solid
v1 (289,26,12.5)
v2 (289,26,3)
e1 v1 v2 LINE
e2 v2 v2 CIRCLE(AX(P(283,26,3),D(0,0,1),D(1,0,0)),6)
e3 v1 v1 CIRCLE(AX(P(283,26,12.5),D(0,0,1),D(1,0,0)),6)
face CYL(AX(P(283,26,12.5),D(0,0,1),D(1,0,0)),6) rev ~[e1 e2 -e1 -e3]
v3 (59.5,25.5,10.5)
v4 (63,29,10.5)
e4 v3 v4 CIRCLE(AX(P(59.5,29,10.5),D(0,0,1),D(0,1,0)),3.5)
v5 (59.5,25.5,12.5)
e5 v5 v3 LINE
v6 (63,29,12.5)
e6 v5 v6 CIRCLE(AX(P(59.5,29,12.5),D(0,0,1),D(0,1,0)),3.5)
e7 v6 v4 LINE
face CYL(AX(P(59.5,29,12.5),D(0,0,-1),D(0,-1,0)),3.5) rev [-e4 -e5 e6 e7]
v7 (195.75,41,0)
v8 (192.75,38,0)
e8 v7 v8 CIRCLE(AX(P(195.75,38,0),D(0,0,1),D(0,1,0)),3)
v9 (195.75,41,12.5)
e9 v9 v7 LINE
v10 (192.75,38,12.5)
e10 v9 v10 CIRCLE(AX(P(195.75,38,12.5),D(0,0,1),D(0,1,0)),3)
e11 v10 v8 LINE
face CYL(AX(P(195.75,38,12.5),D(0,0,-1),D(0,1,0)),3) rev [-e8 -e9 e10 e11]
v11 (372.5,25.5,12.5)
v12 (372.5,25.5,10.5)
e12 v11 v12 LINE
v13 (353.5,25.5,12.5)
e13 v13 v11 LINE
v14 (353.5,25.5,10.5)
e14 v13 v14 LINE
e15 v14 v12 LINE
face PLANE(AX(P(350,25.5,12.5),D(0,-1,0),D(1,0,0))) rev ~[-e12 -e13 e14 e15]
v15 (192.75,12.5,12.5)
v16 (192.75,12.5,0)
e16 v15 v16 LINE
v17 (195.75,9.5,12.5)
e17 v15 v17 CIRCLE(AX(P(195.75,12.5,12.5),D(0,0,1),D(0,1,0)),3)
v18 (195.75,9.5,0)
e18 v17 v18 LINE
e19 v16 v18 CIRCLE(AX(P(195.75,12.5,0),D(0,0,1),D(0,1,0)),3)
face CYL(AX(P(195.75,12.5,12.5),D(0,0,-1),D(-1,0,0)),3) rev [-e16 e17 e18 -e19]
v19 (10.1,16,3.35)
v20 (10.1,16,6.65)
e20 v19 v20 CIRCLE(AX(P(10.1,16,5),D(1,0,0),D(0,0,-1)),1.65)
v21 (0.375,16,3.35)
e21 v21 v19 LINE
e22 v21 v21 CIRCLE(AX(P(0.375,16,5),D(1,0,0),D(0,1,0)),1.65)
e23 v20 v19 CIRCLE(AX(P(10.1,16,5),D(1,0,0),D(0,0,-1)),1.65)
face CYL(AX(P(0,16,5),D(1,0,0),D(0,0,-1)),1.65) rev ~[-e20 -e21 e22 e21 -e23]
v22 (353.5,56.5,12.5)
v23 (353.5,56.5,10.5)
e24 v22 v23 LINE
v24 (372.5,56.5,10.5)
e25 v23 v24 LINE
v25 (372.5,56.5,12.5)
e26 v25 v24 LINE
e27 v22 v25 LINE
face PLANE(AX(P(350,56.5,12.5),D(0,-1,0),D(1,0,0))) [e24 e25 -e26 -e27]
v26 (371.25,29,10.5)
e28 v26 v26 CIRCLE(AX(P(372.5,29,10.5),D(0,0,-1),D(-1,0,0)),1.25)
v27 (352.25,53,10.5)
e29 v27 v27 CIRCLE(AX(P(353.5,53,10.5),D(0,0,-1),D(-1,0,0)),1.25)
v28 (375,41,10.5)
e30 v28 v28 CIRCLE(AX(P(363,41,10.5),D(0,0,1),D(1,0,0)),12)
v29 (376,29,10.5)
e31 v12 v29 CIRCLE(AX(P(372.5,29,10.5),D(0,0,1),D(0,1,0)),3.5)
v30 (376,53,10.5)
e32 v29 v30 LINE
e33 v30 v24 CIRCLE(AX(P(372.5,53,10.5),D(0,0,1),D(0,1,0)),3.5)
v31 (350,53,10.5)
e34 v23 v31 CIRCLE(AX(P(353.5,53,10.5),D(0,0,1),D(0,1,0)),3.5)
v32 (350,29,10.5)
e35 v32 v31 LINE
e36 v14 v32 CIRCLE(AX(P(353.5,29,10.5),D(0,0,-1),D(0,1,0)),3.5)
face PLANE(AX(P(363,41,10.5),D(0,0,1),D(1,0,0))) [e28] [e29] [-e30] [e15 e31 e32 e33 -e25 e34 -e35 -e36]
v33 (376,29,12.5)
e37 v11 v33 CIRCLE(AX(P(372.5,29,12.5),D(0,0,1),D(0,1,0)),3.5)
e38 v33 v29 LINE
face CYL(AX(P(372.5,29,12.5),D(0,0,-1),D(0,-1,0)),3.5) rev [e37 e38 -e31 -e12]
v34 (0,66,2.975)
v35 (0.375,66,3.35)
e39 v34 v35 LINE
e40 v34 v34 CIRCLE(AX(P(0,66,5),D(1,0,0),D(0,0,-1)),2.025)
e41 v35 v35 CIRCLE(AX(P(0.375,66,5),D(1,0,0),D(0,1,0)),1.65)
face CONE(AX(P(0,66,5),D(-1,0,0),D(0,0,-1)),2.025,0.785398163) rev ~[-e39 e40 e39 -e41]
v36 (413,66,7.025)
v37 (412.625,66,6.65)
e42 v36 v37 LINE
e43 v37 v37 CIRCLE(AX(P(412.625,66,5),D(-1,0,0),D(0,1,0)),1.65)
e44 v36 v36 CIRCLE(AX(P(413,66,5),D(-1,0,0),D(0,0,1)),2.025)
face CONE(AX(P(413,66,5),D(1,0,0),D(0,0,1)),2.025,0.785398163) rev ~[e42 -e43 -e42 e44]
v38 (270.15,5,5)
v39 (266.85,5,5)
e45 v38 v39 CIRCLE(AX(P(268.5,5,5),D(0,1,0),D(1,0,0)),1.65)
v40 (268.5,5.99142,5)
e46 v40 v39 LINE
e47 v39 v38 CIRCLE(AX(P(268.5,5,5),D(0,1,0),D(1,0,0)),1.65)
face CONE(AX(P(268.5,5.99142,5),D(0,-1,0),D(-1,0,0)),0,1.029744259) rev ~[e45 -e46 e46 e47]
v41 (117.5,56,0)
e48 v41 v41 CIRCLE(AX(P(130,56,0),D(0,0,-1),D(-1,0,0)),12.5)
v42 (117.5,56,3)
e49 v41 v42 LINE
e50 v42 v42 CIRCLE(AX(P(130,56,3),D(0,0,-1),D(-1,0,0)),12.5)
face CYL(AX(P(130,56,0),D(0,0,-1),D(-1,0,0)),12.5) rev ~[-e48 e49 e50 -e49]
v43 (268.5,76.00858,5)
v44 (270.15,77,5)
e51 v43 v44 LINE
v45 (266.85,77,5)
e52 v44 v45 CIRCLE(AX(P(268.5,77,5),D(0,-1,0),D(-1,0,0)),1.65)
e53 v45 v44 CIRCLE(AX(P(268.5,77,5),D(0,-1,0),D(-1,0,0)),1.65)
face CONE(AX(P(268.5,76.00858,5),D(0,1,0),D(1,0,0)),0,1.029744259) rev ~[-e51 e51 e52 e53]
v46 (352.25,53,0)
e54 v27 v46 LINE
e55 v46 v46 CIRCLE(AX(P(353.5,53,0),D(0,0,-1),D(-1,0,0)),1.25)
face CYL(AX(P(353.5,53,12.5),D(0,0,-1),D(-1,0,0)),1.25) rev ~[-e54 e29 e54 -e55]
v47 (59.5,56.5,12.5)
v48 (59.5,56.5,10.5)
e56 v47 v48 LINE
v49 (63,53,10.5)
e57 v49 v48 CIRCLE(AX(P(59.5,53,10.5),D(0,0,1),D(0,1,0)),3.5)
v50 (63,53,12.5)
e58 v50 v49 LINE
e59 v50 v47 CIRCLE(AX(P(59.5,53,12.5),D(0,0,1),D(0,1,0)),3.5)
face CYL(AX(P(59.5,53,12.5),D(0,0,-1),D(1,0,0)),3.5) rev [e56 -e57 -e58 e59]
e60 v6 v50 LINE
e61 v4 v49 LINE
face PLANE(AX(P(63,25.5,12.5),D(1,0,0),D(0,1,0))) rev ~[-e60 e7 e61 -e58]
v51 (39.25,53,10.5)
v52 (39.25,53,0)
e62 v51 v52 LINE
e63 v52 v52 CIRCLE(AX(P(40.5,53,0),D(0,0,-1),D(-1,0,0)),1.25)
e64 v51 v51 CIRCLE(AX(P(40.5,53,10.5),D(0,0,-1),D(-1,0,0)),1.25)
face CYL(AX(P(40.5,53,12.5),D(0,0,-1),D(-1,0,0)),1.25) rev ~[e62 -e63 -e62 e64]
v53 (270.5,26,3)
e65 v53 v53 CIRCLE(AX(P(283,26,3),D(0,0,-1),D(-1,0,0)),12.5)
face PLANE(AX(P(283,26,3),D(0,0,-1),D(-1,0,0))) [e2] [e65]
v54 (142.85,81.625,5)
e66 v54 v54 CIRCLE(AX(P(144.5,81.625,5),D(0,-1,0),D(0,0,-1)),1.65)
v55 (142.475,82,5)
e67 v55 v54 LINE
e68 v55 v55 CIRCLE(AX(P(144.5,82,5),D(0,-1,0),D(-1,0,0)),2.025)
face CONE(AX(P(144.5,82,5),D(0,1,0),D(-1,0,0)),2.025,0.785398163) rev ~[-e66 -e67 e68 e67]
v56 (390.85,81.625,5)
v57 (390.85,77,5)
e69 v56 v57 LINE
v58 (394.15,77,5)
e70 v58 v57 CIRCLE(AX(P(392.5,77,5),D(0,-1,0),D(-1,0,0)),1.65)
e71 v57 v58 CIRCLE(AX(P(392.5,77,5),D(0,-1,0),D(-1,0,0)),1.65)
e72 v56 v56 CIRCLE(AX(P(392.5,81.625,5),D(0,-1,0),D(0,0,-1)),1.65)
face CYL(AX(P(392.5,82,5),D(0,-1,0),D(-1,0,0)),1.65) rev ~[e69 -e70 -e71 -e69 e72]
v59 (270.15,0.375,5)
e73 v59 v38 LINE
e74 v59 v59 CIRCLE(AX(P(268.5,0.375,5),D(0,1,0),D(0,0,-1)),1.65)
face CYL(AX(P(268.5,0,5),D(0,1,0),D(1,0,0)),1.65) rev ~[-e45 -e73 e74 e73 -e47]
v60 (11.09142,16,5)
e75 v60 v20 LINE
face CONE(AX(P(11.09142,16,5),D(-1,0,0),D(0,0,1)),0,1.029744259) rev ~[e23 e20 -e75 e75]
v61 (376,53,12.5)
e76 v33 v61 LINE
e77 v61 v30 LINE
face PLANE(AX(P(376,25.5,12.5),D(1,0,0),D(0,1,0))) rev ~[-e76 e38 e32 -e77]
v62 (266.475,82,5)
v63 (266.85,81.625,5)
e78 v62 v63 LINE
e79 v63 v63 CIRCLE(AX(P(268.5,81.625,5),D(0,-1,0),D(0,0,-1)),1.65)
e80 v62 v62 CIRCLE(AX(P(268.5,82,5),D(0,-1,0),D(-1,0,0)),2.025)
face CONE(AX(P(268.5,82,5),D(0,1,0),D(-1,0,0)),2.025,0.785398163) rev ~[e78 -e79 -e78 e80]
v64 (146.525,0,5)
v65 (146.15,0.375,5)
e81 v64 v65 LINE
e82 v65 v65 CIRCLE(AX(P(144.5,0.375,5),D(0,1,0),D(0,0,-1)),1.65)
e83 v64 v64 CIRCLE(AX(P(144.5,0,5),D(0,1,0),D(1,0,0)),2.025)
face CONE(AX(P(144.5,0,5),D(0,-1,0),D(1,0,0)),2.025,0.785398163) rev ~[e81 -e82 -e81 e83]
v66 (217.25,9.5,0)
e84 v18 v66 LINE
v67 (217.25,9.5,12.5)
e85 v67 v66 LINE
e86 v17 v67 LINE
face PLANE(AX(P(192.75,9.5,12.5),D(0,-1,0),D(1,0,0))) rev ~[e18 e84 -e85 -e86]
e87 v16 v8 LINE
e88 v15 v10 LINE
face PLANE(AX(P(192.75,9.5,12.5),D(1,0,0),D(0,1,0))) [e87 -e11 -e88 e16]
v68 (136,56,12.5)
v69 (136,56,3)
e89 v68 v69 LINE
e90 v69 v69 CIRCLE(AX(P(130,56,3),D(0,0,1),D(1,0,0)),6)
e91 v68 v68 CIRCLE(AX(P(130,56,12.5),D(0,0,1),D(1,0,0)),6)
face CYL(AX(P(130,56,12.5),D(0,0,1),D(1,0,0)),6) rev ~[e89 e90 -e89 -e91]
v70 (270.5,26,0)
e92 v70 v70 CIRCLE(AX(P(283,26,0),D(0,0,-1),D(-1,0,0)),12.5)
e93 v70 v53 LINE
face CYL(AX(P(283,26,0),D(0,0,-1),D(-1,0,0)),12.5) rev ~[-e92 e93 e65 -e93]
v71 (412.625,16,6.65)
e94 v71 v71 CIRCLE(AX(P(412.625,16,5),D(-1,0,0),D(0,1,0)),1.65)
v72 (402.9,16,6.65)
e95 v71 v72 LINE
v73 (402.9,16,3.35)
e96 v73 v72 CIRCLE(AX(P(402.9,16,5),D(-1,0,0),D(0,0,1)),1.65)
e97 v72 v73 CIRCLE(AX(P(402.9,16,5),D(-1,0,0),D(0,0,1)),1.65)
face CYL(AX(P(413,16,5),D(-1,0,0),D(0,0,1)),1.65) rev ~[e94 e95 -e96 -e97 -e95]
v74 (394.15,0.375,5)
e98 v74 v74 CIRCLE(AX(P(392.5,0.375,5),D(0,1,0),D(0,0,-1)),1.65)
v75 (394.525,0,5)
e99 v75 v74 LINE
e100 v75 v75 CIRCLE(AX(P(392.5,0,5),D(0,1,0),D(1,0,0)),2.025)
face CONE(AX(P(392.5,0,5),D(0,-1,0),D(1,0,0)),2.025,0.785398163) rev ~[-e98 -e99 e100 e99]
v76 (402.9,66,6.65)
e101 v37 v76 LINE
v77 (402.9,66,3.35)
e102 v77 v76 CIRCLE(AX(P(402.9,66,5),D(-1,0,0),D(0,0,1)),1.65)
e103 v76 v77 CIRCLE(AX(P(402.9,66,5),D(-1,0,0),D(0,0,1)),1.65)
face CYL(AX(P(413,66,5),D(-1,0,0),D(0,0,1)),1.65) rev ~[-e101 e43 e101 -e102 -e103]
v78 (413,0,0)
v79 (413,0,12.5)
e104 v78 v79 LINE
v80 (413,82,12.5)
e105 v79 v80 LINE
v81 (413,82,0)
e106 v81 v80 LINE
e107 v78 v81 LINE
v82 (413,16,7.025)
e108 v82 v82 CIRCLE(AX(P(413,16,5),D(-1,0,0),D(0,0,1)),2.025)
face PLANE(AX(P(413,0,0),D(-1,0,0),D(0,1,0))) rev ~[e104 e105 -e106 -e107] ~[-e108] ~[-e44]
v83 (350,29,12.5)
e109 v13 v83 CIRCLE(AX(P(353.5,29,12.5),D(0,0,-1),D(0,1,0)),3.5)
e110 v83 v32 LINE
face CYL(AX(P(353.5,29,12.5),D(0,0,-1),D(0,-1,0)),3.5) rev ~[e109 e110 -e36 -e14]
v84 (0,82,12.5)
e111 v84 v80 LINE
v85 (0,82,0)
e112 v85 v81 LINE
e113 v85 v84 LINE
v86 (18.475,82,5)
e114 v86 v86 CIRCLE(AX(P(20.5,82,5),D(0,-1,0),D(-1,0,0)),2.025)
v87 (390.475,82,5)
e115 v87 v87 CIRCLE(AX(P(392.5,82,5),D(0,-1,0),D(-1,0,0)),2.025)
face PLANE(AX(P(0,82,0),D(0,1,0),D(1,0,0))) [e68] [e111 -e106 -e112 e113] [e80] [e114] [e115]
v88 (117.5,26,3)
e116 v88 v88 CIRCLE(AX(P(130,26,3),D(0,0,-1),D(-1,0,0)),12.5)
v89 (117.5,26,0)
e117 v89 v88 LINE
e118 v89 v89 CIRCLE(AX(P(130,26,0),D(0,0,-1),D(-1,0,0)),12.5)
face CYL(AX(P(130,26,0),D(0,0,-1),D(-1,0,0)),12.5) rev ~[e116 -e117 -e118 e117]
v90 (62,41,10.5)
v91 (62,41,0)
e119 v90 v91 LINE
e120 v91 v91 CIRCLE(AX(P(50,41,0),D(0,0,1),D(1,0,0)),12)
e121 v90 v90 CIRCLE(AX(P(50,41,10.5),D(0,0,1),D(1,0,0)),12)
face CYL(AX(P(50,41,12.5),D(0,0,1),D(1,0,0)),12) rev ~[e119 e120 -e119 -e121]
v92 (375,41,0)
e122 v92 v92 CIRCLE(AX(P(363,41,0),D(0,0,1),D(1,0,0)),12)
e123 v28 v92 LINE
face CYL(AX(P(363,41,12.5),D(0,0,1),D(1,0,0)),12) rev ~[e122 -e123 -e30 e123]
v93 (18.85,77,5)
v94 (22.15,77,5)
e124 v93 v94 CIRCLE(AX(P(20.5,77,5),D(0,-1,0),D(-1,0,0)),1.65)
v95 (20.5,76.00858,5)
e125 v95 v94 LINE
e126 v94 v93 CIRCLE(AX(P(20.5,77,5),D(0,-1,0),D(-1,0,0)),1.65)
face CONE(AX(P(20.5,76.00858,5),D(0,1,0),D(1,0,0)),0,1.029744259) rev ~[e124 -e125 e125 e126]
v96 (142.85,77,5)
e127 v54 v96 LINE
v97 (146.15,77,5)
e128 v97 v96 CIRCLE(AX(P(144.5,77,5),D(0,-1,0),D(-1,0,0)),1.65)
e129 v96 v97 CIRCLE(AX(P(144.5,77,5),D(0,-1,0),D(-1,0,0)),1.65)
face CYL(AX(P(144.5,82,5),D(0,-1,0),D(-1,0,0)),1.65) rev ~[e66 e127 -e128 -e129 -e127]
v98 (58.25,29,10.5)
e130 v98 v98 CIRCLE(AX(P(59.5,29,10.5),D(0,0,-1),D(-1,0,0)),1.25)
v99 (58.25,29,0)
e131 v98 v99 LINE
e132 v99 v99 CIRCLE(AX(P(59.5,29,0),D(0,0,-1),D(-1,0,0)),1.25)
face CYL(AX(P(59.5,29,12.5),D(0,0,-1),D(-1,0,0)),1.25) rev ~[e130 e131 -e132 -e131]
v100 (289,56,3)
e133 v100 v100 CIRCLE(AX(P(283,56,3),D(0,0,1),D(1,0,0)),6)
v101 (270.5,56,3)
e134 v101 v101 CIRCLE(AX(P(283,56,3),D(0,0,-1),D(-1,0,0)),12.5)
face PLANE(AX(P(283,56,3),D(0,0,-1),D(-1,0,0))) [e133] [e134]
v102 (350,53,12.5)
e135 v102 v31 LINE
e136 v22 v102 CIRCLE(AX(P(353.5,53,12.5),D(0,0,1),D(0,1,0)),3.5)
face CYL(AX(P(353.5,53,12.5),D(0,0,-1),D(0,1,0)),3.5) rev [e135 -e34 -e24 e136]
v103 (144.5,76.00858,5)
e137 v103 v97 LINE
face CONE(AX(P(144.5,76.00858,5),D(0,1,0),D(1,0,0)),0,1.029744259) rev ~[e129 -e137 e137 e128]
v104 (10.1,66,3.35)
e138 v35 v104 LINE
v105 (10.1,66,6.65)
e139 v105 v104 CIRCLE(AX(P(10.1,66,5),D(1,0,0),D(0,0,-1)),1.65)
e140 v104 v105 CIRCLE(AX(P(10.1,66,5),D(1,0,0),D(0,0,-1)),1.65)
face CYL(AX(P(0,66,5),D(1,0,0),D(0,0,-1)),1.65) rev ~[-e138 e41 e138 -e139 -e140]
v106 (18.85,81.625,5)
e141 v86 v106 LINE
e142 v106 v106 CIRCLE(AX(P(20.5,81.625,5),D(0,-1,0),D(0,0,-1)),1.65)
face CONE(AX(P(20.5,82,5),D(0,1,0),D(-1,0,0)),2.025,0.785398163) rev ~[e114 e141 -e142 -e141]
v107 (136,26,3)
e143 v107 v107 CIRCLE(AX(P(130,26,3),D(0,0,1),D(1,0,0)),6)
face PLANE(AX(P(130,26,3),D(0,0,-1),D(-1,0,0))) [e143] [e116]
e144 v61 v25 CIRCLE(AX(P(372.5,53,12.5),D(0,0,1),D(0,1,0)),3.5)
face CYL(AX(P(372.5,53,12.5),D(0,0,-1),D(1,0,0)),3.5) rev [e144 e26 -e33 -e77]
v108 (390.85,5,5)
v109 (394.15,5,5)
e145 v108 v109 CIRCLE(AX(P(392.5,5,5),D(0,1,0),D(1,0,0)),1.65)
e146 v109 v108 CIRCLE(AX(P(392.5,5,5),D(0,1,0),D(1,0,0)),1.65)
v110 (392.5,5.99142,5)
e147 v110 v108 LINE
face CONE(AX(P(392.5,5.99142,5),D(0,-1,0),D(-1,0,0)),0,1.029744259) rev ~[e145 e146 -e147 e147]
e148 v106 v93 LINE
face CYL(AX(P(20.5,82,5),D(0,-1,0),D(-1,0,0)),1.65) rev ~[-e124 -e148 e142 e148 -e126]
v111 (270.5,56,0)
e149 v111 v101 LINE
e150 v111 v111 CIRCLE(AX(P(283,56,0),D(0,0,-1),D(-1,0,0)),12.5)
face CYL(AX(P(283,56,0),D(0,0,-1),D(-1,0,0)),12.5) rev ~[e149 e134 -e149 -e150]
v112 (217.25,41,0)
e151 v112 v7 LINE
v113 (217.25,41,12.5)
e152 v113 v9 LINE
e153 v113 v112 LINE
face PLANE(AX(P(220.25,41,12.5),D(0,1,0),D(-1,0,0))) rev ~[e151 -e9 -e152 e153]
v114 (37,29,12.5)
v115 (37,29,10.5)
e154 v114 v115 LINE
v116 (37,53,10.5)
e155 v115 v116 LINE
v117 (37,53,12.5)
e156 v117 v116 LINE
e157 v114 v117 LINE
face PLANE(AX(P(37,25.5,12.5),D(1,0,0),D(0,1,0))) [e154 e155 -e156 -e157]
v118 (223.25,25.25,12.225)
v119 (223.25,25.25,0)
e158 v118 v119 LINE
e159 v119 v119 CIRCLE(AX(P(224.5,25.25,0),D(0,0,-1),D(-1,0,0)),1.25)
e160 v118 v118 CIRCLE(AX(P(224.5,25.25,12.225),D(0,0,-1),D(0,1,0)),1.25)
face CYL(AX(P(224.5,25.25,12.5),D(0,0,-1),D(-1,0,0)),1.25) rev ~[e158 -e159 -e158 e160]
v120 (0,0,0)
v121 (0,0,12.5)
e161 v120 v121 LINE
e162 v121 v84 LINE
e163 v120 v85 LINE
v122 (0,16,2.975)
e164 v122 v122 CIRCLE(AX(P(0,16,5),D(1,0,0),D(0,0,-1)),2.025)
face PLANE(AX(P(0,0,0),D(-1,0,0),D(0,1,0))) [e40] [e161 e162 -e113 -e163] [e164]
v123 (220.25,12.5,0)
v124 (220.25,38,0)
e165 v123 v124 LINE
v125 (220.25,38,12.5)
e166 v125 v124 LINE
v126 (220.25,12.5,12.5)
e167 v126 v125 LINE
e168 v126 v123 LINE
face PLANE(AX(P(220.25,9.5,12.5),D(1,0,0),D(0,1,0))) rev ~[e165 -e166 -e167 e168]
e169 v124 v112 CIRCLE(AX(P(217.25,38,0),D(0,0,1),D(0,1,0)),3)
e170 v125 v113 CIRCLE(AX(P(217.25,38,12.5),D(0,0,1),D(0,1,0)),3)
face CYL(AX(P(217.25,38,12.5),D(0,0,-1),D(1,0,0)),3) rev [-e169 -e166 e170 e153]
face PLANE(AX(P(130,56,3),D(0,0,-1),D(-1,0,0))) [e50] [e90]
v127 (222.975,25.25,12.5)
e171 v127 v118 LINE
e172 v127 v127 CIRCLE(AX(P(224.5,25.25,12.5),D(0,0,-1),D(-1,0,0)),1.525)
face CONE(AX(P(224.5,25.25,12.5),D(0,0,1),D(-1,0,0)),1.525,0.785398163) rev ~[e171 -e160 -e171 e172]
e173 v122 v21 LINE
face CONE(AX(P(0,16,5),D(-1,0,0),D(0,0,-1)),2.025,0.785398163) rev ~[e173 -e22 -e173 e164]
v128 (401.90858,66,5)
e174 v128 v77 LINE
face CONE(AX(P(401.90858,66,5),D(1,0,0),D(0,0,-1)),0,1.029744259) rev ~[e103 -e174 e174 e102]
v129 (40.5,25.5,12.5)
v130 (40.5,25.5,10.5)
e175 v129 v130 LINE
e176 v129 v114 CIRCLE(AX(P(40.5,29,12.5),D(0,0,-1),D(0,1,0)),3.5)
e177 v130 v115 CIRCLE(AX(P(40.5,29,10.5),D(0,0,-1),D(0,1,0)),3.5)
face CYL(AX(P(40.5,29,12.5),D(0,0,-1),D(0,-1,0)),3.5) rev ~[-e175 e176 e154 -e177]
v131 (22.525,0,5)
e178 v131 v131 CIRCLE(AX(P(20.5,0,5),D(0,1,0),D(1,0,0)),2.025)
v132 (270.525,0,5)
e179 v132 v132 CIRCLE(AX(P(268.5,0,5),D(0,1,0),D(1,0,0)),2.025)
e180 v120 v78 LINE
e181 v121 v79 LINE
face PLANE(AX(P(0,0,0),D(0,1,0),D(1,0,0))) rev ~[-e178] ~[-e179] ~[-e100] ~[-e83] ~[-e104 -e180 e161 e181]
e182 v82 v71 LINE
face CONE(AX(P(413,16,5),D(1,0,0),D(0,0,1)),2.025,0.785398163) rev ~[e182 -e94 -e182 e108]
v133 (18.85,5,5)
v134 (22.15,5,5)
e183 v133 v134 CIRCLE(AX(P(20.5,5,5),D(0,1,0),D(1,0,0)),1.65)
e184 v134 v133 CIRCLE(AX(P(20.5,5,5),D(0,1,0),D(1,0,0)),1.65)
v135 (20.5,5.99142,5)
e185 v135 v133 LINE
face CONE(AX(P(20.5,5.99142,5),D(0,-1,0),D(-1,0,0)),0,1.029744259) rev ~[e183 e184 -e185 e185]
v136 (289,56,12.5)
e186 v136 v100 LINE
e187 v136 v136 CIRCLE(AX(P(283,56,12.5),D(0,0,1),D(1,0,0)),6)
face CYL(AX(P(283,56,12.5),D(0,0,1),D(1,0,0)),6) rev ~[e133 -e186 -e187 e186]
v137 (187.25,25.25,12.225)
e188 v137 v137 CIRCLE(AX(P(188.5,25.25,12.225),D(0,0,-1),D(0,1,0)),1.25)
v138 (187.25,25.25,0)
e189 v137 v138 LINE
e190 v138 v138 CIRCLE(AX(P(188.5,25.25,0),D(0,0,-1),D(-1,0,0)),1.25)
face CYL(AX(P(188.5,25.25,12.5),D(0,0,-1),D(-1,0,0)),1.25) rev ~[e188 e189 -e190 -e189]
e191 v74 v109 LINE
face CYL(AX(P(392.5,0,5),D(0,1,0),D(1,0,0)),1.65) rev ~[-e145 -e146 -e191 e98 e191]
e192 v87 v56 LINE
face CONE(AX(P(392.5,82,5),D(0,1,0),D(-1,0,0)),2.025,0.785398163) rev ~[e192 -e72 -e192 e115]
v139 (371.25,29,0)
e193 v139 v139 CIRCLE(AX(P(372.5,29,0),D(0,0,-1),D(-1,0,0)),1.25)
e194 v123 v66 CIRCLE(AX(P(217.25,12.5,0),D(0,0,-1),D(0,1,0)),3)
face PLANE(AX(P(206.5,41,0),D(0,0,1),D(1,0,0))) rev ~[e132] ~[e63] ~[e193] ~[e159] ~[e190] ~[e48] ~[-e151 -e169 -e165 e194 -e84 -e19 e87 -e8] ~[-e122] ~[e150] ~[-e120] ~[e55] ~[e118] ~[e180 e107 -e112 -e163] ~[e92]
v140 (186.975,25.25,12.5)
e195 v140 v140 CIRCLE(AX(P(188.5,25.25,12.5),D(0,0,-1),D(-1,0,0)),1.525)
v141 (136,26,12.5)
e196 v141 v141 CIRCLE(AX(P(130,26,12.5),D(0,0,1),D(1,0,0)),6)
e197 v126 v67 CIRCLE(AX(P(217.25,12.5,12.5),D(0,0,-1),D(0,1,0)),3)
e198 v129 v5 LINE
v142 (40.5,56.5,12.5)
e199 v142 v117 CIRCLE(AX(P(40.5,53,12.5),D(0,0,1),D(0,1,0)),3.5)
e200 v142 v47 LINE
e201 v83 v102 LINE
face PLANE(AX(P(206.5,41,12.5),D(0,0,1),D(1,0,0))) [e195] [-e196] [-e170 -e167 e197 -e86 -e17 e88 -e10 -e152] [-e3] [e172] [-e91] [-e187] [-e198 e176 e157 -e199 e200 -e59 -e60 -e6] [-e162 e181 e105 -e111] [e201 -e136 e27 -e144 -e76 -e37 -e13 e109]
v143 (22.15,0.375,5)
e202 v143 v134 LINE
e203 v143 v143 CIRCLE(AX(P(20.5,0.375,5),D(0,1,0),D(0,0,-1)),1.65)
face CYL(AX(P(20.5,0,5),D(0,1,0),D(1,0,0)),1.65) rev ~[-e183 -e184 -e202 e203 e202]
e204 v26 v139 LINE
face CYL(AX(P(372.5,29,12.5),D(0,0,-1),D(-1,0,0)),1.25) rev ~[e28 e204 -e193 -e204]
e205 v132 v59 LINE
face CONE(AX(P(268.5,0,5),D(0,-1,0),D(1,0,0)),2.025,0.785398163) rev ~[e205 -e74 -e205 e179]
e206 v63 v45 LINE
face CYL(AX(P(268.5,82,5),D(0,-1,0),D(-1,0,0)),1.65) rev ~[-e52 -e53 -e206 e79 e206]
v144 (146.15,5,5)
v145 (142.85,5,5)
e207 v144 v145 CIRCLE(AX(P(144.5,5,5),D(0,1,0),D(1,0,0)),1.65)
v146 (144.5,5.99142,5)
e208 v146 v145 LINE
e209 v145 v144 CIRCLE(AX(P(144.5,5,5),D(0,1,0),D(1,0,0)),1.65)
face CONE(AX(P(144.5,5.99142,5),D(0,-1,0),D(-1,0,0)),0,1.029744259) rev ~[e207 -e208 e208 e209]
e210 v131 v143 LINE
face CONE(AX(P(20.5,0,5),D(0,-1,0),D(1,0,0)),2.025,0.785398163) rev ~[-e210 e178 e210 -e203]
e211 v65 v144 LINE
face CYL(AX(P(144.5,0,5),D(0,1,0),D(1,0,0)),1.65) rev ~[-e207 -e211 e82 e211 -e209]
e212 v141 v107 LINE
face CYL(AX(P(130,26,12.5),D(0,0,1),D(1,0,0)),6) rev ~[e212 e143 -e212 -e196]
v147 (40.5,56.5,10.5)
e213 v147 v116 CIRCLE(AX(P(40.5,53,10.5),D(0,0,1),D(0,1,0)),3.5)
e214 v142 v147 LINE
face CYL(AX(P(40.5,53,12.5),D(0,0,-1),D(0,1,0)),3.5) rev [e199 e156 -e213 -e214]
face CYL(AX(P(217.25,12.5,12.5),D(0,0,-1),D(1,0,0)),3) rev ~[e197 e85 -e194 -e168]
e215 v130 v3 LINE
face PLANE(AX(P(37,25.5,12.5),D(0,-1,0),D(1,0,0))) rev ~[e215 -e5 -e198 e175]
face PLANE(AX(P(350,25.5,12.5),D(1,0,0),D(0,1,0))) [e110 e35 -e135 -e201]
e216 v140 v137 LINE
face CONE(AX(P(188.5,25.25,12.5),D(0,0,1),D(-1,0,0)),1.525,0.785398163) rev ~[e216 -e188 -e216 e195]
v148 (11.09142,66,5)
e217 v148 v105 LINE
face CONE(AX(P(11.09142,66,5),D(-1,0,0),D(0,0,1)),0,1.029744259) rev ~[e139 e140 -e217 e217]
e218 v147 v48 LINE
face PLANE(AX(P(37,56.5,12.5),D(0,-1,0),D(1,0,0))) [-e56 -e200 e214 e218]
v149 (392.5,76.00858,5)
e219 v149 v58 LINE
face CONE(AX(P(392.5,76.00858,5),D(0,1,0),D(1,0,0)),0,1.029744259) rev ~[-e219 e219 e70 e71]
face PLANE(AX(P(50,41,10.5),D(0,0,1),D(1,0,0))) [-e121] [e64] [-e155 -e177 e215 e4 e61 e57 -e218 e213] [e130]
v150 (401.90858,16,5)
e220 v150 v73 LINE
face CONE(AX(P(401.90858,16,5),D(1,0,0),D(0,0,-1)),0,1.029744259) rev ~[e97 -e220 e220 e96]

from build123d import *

# Parameters (mm, degrees)
SKETCH_1_W                   = 413
SKETCH_1_H                   = 82
EXTRUDE_1_DEPTH              = 12.5
SKETCH_2_R                   = 12
SKETCH_2_R_2                 = 6
SKETCH_2_W                   = 13.75
SKETCH_2_H                   = 31.5
CUT_EXTRUDE_1_DEPTH          = 13.5
HOLE_WIZARD_M3_1_D           = 2.5
HOLE_WIZARD_M3_1_CSINK_D     = 3.05
HOLE_WIZARD_M3_1_CSINK_ANGLE = 90
FILLET_1_R                   = 3
HOLE_WIZARD_M4_1_D           = 3.3
HOLE_WIZARD_M4_1_DEPTH       = 5
HOLE_WIZARD_M4_1_CSINK_D     = 4.05
HOLE_WIZARD_M4_1_CSINK_ANGLE = 90
HOLE_WIZARD_M4_1_TIP         = 0.991420021
HOLE_WIZARD_M4_2_D           = 3.3
HOLE_WIZARD_M4_2_DEPTH       = 5
HOLE_WIZARD_M4_2_CSINK_D     = 4.05
HOLE_WIZARD_M4_2_CSINK_ANGLE = 90
HOLE_WIZARD_M4_2_TIP         = 0.991420021
HOLE_WIZARD_M4_3_D           = 3.3
HOLE_WIZARD_M4_3_DEPTH       = 10.1
HOLE_WIZARD_M4_3_CSINK_D     = 4.05
HOLE_WIZARD_M4_3_CSINK_ANGLE = 90
HOLE_WIZARD_M4_3_TIP         = 0.991420021
HOLE_WIZARD_M4_4_D           = 3.3
HOLE_WIZARD_M4_4_DEPTH       = 10.1
HOLE_WIZARD_M4_4_CSINK_D     = 4.05
HOLE_WIZARD_M4_4_CSINK_ANGLE = 90
HOLE_WIZARD_M4_4_TIP         = 0.991420021
SKETCH_15_R                  = 12.5
CUT_EXTRUDE_2_DEPTH          = 3
SKETCH_16_W                  = 26
SKETCH_16_H                  = 31
CUT_EXTRUDE_3_DEPTH          = 2
FILLET_2_R                   = 3.5


with BuildPart() as part:
    # 草圖1 → 填料-伸長1 (new body)
    with BuildSketch(Plane.XY):
        with Locations((206.5, 41)):
            Rectangle(SKETCH_1_W, SKETCH_1_H)
    extrude(amount=EXTRUDE_1_DEPTH)

    # 草圖2 → 除料-伸長1 (cut, through all)
    with BuildSketch(Plane.XY.offset(12.5)):
        with Locations((50, 41)):
            Circle(SKETCH_2_R)
        with Locations((130, 56)):
            Circle(SKETCH_2_R_2)
        with Locations((130, 26)):
            Circle(SKETCH_2_R_2)
        with Locations((199.625, 25.25)):
            Rectangle(SKETCH_2_W, SKETCH_2_H)
        with Locations((213.375, 25.25)):
            Rectangle(SKETCH_2_W, SKETCH_2_H)
        with Locations((283, 56)):
            Circle(SKETCH_2_R_2)
        with Locations((283, 26)):
            Circle(SKETCH_2_R_2)
        with Locations((363, 41)):
            Circle(SKETCH_2_R)
    extrude(amount=-CUT_EXTRUDE_1_DEPTH, mode=Mode.SUBTRACT)

    # M3 螺紋孔1 (through all)
    with Locations(Plane.XY.offset(12.5)):
        with Locations((40.5, 53), (59.5, 29), (353.5, 53), (372.5, 29), (224.5, 25.25), (188.5, 25.25)):
            CounterSinkHole(HOLE_WIZARD_M3_1_D / 2, HOLE_WIZARD_M3_1_CSINK_D / 2, counter_sink_angle=HOLE_WIZARD_M3_1_CSINK_ANGLE)

    # 圓角1
    fillet_1_edges = [part.edges().sort_by_distance(p)[0] for p in [
        (192.75, 41, 6.25),
        (220.25, 41, 6.25),
        (220.25, 9.5, 6.25),
        (192.75, 9.5, 6.25),
    ]]
    fillet(fillet_1_edges, radius=FILLET_1_R)

    # M4 螺紋孔1
    with Locations(Plane(origin=(0, 82, 0), x_dir=(1, 0, 0), z_dir=(0, 1, 0))):
        with Locations((20.5, -5), (144.5, -5), (268.5, -5), (392.5, -5)):
            CounterSinkHole(HOLE_WIZARD_M4_1_D / 2, HOLE_WIZARD_M4_1_CSINK_D / 2, depth=HOLE_WIZARD_M4_1_DEPTH, counter_sink_angle=HOLE_WIZARD_M4_1_CSINK_ANGLE)
            with Locations((0, 0, -(HOLE_WIZARD_M4_1_DEPTH + HOLE_WIZARD_M4_1_TIP / 2))):  # 118° drill point
                Cone(0, HOLE_WIZARD_M4_1_D / 2, HOLE_WIZARD_M4_1_TIP, mode=Mode.SUBTRACT)

    # M4 螺紋孔2
    with Locations(Plane(origin=(0, 0, 0), x_dir=(-1, 0, 0), z_dir=(0, -1, 0))):
        with Locations((-144.5, -5), (-20.5, -5), (-268.5, -5), (-392.5, -5)):
            CounterSinkHole(HOLE_WIZARD_M4_2_D / 2, HOLE_WIZARD_M4_2_CSINK_D / 2, depth=HOLE_WIZARD_M4_2_DEPTH, counter_sink_angle=HOLE_WIZARD_M4_2_CSINK_ANGLE)
            with Locations((0, 0, -(HOLE_WIZARD_M4_2_DEPTH + HOLE_WIZARD_M4_2_TIP / 2))):  # 118° drill point
                Cone(0, HOLE_WIZARD_M4_2_D / 2, HOLE_WIZARD_M4_2_TIP, mode=Mode.SUBTRACT)

    # M4 螺紋孔3
    with Locations(Plane.ZY):
        with Locations((5, 66), (5, 16)):
            CounterSinkHole(HOLE_WIZARD_M4_3_D / 2, HOLE_WIZARD_M4_3_CSINK_D / 2, depth=HOLE_WIZARD_M4_3_DEPTH, counter_sink_angle=HOLE_WIZARD_M4_3_CSINK_ANGLE)
            with Locations((0, 0, -(HOLE_WIZARD_M4_3_DEPTH + HOLE_WIZARD_M4_3_TIP / 2))):  # 118° drill point
                Cone(0, HOLE_WIZARD_M4_3_D / 2, HOLE_WIZARD_M4_3_TIP, mode=Mode.SUBTRACT)

    # M4 螺紋孔4
    with Locations(Plane(origin=(413, 0, 0), x_dir=(0, 0, -1), z_dir=(1, 0, 0))):
        with Locations((-5, 66), (-5, 16)):
            CounterSinkHole(HOLE_WIZARD_M4_4_D / 2, HOLE_WIZARD_M4_4_CSINK_D / 2, depth=HOLE_WIZARD_M4_4_DEPTH, counter_sink_angle=HOLE_WIZARD_M4_4_CSINK_ANGLE)
            with Locations((0, 0, -(HOLE_WIZARD_M4_4_DEPTH + HOLE_WIZARD_M4_4_TIP / 2))):  # 118° drill point
                Cone(0, HOLE_WIZARD_M4_4_D / 2, HOLE_WIZARD_M4_4_TIP, mode=Mode.SUBTRACT)

    # 草圖15 → 除料-伸長2 (cut)
    with BuildSketch(Plane(origin=(0, 0, 0), x_dir=(-1, 0, 0), z_dir=(0, 0, -1))):
        with Locations((-283, 56)):
            Circle(SKETCH_15_R)
        with Locations((-283, 26)):
            Circle(SKETCH_15_R)
        with Locations((-130, 56)):
            Circle(SKETCH_15_R)
        with Locations((-130, 26)):
            Circle(SKETCH_15_R)
    extrude(amount=-CUT_EXTRUDE_2_DEPTH, mode=Mode.SUBTRACT)

    # 草圖16 → 除料-伸長3 (cut)
    with BuildSketch(Plane.XY.offset(12.5)):
        with Locations((50, 41)):
            Rectangle(SKETCH_16_W, SKETCH_16_H)
        with Locations((363, 41)):
            Rectangle(SKETCH_16_W, SKETCH_16_H)
    extrude(amount=-CUT_EXTRUDE_3_DEPTH, mode=Mode.SUBTRACT)

    # 圓角2
    fillet_2_edges = [part.edges().sort_by_distance(p)[0] for p in [
        (63, 56.5, 11.5),
        (63, 25.5, 11.5),
        (37, 25.5, 11.5),
        (37, 56.5, 11.5),
        (376, 56.5, 11.5),
        (376, 25.5, 11.5),
        (350, 25.5, 11.5),
        (350, 56.5, 11.5),
    ]]
    fillet(fillet_2_edges, radius=FILLET_2_R)


solid = part.part
